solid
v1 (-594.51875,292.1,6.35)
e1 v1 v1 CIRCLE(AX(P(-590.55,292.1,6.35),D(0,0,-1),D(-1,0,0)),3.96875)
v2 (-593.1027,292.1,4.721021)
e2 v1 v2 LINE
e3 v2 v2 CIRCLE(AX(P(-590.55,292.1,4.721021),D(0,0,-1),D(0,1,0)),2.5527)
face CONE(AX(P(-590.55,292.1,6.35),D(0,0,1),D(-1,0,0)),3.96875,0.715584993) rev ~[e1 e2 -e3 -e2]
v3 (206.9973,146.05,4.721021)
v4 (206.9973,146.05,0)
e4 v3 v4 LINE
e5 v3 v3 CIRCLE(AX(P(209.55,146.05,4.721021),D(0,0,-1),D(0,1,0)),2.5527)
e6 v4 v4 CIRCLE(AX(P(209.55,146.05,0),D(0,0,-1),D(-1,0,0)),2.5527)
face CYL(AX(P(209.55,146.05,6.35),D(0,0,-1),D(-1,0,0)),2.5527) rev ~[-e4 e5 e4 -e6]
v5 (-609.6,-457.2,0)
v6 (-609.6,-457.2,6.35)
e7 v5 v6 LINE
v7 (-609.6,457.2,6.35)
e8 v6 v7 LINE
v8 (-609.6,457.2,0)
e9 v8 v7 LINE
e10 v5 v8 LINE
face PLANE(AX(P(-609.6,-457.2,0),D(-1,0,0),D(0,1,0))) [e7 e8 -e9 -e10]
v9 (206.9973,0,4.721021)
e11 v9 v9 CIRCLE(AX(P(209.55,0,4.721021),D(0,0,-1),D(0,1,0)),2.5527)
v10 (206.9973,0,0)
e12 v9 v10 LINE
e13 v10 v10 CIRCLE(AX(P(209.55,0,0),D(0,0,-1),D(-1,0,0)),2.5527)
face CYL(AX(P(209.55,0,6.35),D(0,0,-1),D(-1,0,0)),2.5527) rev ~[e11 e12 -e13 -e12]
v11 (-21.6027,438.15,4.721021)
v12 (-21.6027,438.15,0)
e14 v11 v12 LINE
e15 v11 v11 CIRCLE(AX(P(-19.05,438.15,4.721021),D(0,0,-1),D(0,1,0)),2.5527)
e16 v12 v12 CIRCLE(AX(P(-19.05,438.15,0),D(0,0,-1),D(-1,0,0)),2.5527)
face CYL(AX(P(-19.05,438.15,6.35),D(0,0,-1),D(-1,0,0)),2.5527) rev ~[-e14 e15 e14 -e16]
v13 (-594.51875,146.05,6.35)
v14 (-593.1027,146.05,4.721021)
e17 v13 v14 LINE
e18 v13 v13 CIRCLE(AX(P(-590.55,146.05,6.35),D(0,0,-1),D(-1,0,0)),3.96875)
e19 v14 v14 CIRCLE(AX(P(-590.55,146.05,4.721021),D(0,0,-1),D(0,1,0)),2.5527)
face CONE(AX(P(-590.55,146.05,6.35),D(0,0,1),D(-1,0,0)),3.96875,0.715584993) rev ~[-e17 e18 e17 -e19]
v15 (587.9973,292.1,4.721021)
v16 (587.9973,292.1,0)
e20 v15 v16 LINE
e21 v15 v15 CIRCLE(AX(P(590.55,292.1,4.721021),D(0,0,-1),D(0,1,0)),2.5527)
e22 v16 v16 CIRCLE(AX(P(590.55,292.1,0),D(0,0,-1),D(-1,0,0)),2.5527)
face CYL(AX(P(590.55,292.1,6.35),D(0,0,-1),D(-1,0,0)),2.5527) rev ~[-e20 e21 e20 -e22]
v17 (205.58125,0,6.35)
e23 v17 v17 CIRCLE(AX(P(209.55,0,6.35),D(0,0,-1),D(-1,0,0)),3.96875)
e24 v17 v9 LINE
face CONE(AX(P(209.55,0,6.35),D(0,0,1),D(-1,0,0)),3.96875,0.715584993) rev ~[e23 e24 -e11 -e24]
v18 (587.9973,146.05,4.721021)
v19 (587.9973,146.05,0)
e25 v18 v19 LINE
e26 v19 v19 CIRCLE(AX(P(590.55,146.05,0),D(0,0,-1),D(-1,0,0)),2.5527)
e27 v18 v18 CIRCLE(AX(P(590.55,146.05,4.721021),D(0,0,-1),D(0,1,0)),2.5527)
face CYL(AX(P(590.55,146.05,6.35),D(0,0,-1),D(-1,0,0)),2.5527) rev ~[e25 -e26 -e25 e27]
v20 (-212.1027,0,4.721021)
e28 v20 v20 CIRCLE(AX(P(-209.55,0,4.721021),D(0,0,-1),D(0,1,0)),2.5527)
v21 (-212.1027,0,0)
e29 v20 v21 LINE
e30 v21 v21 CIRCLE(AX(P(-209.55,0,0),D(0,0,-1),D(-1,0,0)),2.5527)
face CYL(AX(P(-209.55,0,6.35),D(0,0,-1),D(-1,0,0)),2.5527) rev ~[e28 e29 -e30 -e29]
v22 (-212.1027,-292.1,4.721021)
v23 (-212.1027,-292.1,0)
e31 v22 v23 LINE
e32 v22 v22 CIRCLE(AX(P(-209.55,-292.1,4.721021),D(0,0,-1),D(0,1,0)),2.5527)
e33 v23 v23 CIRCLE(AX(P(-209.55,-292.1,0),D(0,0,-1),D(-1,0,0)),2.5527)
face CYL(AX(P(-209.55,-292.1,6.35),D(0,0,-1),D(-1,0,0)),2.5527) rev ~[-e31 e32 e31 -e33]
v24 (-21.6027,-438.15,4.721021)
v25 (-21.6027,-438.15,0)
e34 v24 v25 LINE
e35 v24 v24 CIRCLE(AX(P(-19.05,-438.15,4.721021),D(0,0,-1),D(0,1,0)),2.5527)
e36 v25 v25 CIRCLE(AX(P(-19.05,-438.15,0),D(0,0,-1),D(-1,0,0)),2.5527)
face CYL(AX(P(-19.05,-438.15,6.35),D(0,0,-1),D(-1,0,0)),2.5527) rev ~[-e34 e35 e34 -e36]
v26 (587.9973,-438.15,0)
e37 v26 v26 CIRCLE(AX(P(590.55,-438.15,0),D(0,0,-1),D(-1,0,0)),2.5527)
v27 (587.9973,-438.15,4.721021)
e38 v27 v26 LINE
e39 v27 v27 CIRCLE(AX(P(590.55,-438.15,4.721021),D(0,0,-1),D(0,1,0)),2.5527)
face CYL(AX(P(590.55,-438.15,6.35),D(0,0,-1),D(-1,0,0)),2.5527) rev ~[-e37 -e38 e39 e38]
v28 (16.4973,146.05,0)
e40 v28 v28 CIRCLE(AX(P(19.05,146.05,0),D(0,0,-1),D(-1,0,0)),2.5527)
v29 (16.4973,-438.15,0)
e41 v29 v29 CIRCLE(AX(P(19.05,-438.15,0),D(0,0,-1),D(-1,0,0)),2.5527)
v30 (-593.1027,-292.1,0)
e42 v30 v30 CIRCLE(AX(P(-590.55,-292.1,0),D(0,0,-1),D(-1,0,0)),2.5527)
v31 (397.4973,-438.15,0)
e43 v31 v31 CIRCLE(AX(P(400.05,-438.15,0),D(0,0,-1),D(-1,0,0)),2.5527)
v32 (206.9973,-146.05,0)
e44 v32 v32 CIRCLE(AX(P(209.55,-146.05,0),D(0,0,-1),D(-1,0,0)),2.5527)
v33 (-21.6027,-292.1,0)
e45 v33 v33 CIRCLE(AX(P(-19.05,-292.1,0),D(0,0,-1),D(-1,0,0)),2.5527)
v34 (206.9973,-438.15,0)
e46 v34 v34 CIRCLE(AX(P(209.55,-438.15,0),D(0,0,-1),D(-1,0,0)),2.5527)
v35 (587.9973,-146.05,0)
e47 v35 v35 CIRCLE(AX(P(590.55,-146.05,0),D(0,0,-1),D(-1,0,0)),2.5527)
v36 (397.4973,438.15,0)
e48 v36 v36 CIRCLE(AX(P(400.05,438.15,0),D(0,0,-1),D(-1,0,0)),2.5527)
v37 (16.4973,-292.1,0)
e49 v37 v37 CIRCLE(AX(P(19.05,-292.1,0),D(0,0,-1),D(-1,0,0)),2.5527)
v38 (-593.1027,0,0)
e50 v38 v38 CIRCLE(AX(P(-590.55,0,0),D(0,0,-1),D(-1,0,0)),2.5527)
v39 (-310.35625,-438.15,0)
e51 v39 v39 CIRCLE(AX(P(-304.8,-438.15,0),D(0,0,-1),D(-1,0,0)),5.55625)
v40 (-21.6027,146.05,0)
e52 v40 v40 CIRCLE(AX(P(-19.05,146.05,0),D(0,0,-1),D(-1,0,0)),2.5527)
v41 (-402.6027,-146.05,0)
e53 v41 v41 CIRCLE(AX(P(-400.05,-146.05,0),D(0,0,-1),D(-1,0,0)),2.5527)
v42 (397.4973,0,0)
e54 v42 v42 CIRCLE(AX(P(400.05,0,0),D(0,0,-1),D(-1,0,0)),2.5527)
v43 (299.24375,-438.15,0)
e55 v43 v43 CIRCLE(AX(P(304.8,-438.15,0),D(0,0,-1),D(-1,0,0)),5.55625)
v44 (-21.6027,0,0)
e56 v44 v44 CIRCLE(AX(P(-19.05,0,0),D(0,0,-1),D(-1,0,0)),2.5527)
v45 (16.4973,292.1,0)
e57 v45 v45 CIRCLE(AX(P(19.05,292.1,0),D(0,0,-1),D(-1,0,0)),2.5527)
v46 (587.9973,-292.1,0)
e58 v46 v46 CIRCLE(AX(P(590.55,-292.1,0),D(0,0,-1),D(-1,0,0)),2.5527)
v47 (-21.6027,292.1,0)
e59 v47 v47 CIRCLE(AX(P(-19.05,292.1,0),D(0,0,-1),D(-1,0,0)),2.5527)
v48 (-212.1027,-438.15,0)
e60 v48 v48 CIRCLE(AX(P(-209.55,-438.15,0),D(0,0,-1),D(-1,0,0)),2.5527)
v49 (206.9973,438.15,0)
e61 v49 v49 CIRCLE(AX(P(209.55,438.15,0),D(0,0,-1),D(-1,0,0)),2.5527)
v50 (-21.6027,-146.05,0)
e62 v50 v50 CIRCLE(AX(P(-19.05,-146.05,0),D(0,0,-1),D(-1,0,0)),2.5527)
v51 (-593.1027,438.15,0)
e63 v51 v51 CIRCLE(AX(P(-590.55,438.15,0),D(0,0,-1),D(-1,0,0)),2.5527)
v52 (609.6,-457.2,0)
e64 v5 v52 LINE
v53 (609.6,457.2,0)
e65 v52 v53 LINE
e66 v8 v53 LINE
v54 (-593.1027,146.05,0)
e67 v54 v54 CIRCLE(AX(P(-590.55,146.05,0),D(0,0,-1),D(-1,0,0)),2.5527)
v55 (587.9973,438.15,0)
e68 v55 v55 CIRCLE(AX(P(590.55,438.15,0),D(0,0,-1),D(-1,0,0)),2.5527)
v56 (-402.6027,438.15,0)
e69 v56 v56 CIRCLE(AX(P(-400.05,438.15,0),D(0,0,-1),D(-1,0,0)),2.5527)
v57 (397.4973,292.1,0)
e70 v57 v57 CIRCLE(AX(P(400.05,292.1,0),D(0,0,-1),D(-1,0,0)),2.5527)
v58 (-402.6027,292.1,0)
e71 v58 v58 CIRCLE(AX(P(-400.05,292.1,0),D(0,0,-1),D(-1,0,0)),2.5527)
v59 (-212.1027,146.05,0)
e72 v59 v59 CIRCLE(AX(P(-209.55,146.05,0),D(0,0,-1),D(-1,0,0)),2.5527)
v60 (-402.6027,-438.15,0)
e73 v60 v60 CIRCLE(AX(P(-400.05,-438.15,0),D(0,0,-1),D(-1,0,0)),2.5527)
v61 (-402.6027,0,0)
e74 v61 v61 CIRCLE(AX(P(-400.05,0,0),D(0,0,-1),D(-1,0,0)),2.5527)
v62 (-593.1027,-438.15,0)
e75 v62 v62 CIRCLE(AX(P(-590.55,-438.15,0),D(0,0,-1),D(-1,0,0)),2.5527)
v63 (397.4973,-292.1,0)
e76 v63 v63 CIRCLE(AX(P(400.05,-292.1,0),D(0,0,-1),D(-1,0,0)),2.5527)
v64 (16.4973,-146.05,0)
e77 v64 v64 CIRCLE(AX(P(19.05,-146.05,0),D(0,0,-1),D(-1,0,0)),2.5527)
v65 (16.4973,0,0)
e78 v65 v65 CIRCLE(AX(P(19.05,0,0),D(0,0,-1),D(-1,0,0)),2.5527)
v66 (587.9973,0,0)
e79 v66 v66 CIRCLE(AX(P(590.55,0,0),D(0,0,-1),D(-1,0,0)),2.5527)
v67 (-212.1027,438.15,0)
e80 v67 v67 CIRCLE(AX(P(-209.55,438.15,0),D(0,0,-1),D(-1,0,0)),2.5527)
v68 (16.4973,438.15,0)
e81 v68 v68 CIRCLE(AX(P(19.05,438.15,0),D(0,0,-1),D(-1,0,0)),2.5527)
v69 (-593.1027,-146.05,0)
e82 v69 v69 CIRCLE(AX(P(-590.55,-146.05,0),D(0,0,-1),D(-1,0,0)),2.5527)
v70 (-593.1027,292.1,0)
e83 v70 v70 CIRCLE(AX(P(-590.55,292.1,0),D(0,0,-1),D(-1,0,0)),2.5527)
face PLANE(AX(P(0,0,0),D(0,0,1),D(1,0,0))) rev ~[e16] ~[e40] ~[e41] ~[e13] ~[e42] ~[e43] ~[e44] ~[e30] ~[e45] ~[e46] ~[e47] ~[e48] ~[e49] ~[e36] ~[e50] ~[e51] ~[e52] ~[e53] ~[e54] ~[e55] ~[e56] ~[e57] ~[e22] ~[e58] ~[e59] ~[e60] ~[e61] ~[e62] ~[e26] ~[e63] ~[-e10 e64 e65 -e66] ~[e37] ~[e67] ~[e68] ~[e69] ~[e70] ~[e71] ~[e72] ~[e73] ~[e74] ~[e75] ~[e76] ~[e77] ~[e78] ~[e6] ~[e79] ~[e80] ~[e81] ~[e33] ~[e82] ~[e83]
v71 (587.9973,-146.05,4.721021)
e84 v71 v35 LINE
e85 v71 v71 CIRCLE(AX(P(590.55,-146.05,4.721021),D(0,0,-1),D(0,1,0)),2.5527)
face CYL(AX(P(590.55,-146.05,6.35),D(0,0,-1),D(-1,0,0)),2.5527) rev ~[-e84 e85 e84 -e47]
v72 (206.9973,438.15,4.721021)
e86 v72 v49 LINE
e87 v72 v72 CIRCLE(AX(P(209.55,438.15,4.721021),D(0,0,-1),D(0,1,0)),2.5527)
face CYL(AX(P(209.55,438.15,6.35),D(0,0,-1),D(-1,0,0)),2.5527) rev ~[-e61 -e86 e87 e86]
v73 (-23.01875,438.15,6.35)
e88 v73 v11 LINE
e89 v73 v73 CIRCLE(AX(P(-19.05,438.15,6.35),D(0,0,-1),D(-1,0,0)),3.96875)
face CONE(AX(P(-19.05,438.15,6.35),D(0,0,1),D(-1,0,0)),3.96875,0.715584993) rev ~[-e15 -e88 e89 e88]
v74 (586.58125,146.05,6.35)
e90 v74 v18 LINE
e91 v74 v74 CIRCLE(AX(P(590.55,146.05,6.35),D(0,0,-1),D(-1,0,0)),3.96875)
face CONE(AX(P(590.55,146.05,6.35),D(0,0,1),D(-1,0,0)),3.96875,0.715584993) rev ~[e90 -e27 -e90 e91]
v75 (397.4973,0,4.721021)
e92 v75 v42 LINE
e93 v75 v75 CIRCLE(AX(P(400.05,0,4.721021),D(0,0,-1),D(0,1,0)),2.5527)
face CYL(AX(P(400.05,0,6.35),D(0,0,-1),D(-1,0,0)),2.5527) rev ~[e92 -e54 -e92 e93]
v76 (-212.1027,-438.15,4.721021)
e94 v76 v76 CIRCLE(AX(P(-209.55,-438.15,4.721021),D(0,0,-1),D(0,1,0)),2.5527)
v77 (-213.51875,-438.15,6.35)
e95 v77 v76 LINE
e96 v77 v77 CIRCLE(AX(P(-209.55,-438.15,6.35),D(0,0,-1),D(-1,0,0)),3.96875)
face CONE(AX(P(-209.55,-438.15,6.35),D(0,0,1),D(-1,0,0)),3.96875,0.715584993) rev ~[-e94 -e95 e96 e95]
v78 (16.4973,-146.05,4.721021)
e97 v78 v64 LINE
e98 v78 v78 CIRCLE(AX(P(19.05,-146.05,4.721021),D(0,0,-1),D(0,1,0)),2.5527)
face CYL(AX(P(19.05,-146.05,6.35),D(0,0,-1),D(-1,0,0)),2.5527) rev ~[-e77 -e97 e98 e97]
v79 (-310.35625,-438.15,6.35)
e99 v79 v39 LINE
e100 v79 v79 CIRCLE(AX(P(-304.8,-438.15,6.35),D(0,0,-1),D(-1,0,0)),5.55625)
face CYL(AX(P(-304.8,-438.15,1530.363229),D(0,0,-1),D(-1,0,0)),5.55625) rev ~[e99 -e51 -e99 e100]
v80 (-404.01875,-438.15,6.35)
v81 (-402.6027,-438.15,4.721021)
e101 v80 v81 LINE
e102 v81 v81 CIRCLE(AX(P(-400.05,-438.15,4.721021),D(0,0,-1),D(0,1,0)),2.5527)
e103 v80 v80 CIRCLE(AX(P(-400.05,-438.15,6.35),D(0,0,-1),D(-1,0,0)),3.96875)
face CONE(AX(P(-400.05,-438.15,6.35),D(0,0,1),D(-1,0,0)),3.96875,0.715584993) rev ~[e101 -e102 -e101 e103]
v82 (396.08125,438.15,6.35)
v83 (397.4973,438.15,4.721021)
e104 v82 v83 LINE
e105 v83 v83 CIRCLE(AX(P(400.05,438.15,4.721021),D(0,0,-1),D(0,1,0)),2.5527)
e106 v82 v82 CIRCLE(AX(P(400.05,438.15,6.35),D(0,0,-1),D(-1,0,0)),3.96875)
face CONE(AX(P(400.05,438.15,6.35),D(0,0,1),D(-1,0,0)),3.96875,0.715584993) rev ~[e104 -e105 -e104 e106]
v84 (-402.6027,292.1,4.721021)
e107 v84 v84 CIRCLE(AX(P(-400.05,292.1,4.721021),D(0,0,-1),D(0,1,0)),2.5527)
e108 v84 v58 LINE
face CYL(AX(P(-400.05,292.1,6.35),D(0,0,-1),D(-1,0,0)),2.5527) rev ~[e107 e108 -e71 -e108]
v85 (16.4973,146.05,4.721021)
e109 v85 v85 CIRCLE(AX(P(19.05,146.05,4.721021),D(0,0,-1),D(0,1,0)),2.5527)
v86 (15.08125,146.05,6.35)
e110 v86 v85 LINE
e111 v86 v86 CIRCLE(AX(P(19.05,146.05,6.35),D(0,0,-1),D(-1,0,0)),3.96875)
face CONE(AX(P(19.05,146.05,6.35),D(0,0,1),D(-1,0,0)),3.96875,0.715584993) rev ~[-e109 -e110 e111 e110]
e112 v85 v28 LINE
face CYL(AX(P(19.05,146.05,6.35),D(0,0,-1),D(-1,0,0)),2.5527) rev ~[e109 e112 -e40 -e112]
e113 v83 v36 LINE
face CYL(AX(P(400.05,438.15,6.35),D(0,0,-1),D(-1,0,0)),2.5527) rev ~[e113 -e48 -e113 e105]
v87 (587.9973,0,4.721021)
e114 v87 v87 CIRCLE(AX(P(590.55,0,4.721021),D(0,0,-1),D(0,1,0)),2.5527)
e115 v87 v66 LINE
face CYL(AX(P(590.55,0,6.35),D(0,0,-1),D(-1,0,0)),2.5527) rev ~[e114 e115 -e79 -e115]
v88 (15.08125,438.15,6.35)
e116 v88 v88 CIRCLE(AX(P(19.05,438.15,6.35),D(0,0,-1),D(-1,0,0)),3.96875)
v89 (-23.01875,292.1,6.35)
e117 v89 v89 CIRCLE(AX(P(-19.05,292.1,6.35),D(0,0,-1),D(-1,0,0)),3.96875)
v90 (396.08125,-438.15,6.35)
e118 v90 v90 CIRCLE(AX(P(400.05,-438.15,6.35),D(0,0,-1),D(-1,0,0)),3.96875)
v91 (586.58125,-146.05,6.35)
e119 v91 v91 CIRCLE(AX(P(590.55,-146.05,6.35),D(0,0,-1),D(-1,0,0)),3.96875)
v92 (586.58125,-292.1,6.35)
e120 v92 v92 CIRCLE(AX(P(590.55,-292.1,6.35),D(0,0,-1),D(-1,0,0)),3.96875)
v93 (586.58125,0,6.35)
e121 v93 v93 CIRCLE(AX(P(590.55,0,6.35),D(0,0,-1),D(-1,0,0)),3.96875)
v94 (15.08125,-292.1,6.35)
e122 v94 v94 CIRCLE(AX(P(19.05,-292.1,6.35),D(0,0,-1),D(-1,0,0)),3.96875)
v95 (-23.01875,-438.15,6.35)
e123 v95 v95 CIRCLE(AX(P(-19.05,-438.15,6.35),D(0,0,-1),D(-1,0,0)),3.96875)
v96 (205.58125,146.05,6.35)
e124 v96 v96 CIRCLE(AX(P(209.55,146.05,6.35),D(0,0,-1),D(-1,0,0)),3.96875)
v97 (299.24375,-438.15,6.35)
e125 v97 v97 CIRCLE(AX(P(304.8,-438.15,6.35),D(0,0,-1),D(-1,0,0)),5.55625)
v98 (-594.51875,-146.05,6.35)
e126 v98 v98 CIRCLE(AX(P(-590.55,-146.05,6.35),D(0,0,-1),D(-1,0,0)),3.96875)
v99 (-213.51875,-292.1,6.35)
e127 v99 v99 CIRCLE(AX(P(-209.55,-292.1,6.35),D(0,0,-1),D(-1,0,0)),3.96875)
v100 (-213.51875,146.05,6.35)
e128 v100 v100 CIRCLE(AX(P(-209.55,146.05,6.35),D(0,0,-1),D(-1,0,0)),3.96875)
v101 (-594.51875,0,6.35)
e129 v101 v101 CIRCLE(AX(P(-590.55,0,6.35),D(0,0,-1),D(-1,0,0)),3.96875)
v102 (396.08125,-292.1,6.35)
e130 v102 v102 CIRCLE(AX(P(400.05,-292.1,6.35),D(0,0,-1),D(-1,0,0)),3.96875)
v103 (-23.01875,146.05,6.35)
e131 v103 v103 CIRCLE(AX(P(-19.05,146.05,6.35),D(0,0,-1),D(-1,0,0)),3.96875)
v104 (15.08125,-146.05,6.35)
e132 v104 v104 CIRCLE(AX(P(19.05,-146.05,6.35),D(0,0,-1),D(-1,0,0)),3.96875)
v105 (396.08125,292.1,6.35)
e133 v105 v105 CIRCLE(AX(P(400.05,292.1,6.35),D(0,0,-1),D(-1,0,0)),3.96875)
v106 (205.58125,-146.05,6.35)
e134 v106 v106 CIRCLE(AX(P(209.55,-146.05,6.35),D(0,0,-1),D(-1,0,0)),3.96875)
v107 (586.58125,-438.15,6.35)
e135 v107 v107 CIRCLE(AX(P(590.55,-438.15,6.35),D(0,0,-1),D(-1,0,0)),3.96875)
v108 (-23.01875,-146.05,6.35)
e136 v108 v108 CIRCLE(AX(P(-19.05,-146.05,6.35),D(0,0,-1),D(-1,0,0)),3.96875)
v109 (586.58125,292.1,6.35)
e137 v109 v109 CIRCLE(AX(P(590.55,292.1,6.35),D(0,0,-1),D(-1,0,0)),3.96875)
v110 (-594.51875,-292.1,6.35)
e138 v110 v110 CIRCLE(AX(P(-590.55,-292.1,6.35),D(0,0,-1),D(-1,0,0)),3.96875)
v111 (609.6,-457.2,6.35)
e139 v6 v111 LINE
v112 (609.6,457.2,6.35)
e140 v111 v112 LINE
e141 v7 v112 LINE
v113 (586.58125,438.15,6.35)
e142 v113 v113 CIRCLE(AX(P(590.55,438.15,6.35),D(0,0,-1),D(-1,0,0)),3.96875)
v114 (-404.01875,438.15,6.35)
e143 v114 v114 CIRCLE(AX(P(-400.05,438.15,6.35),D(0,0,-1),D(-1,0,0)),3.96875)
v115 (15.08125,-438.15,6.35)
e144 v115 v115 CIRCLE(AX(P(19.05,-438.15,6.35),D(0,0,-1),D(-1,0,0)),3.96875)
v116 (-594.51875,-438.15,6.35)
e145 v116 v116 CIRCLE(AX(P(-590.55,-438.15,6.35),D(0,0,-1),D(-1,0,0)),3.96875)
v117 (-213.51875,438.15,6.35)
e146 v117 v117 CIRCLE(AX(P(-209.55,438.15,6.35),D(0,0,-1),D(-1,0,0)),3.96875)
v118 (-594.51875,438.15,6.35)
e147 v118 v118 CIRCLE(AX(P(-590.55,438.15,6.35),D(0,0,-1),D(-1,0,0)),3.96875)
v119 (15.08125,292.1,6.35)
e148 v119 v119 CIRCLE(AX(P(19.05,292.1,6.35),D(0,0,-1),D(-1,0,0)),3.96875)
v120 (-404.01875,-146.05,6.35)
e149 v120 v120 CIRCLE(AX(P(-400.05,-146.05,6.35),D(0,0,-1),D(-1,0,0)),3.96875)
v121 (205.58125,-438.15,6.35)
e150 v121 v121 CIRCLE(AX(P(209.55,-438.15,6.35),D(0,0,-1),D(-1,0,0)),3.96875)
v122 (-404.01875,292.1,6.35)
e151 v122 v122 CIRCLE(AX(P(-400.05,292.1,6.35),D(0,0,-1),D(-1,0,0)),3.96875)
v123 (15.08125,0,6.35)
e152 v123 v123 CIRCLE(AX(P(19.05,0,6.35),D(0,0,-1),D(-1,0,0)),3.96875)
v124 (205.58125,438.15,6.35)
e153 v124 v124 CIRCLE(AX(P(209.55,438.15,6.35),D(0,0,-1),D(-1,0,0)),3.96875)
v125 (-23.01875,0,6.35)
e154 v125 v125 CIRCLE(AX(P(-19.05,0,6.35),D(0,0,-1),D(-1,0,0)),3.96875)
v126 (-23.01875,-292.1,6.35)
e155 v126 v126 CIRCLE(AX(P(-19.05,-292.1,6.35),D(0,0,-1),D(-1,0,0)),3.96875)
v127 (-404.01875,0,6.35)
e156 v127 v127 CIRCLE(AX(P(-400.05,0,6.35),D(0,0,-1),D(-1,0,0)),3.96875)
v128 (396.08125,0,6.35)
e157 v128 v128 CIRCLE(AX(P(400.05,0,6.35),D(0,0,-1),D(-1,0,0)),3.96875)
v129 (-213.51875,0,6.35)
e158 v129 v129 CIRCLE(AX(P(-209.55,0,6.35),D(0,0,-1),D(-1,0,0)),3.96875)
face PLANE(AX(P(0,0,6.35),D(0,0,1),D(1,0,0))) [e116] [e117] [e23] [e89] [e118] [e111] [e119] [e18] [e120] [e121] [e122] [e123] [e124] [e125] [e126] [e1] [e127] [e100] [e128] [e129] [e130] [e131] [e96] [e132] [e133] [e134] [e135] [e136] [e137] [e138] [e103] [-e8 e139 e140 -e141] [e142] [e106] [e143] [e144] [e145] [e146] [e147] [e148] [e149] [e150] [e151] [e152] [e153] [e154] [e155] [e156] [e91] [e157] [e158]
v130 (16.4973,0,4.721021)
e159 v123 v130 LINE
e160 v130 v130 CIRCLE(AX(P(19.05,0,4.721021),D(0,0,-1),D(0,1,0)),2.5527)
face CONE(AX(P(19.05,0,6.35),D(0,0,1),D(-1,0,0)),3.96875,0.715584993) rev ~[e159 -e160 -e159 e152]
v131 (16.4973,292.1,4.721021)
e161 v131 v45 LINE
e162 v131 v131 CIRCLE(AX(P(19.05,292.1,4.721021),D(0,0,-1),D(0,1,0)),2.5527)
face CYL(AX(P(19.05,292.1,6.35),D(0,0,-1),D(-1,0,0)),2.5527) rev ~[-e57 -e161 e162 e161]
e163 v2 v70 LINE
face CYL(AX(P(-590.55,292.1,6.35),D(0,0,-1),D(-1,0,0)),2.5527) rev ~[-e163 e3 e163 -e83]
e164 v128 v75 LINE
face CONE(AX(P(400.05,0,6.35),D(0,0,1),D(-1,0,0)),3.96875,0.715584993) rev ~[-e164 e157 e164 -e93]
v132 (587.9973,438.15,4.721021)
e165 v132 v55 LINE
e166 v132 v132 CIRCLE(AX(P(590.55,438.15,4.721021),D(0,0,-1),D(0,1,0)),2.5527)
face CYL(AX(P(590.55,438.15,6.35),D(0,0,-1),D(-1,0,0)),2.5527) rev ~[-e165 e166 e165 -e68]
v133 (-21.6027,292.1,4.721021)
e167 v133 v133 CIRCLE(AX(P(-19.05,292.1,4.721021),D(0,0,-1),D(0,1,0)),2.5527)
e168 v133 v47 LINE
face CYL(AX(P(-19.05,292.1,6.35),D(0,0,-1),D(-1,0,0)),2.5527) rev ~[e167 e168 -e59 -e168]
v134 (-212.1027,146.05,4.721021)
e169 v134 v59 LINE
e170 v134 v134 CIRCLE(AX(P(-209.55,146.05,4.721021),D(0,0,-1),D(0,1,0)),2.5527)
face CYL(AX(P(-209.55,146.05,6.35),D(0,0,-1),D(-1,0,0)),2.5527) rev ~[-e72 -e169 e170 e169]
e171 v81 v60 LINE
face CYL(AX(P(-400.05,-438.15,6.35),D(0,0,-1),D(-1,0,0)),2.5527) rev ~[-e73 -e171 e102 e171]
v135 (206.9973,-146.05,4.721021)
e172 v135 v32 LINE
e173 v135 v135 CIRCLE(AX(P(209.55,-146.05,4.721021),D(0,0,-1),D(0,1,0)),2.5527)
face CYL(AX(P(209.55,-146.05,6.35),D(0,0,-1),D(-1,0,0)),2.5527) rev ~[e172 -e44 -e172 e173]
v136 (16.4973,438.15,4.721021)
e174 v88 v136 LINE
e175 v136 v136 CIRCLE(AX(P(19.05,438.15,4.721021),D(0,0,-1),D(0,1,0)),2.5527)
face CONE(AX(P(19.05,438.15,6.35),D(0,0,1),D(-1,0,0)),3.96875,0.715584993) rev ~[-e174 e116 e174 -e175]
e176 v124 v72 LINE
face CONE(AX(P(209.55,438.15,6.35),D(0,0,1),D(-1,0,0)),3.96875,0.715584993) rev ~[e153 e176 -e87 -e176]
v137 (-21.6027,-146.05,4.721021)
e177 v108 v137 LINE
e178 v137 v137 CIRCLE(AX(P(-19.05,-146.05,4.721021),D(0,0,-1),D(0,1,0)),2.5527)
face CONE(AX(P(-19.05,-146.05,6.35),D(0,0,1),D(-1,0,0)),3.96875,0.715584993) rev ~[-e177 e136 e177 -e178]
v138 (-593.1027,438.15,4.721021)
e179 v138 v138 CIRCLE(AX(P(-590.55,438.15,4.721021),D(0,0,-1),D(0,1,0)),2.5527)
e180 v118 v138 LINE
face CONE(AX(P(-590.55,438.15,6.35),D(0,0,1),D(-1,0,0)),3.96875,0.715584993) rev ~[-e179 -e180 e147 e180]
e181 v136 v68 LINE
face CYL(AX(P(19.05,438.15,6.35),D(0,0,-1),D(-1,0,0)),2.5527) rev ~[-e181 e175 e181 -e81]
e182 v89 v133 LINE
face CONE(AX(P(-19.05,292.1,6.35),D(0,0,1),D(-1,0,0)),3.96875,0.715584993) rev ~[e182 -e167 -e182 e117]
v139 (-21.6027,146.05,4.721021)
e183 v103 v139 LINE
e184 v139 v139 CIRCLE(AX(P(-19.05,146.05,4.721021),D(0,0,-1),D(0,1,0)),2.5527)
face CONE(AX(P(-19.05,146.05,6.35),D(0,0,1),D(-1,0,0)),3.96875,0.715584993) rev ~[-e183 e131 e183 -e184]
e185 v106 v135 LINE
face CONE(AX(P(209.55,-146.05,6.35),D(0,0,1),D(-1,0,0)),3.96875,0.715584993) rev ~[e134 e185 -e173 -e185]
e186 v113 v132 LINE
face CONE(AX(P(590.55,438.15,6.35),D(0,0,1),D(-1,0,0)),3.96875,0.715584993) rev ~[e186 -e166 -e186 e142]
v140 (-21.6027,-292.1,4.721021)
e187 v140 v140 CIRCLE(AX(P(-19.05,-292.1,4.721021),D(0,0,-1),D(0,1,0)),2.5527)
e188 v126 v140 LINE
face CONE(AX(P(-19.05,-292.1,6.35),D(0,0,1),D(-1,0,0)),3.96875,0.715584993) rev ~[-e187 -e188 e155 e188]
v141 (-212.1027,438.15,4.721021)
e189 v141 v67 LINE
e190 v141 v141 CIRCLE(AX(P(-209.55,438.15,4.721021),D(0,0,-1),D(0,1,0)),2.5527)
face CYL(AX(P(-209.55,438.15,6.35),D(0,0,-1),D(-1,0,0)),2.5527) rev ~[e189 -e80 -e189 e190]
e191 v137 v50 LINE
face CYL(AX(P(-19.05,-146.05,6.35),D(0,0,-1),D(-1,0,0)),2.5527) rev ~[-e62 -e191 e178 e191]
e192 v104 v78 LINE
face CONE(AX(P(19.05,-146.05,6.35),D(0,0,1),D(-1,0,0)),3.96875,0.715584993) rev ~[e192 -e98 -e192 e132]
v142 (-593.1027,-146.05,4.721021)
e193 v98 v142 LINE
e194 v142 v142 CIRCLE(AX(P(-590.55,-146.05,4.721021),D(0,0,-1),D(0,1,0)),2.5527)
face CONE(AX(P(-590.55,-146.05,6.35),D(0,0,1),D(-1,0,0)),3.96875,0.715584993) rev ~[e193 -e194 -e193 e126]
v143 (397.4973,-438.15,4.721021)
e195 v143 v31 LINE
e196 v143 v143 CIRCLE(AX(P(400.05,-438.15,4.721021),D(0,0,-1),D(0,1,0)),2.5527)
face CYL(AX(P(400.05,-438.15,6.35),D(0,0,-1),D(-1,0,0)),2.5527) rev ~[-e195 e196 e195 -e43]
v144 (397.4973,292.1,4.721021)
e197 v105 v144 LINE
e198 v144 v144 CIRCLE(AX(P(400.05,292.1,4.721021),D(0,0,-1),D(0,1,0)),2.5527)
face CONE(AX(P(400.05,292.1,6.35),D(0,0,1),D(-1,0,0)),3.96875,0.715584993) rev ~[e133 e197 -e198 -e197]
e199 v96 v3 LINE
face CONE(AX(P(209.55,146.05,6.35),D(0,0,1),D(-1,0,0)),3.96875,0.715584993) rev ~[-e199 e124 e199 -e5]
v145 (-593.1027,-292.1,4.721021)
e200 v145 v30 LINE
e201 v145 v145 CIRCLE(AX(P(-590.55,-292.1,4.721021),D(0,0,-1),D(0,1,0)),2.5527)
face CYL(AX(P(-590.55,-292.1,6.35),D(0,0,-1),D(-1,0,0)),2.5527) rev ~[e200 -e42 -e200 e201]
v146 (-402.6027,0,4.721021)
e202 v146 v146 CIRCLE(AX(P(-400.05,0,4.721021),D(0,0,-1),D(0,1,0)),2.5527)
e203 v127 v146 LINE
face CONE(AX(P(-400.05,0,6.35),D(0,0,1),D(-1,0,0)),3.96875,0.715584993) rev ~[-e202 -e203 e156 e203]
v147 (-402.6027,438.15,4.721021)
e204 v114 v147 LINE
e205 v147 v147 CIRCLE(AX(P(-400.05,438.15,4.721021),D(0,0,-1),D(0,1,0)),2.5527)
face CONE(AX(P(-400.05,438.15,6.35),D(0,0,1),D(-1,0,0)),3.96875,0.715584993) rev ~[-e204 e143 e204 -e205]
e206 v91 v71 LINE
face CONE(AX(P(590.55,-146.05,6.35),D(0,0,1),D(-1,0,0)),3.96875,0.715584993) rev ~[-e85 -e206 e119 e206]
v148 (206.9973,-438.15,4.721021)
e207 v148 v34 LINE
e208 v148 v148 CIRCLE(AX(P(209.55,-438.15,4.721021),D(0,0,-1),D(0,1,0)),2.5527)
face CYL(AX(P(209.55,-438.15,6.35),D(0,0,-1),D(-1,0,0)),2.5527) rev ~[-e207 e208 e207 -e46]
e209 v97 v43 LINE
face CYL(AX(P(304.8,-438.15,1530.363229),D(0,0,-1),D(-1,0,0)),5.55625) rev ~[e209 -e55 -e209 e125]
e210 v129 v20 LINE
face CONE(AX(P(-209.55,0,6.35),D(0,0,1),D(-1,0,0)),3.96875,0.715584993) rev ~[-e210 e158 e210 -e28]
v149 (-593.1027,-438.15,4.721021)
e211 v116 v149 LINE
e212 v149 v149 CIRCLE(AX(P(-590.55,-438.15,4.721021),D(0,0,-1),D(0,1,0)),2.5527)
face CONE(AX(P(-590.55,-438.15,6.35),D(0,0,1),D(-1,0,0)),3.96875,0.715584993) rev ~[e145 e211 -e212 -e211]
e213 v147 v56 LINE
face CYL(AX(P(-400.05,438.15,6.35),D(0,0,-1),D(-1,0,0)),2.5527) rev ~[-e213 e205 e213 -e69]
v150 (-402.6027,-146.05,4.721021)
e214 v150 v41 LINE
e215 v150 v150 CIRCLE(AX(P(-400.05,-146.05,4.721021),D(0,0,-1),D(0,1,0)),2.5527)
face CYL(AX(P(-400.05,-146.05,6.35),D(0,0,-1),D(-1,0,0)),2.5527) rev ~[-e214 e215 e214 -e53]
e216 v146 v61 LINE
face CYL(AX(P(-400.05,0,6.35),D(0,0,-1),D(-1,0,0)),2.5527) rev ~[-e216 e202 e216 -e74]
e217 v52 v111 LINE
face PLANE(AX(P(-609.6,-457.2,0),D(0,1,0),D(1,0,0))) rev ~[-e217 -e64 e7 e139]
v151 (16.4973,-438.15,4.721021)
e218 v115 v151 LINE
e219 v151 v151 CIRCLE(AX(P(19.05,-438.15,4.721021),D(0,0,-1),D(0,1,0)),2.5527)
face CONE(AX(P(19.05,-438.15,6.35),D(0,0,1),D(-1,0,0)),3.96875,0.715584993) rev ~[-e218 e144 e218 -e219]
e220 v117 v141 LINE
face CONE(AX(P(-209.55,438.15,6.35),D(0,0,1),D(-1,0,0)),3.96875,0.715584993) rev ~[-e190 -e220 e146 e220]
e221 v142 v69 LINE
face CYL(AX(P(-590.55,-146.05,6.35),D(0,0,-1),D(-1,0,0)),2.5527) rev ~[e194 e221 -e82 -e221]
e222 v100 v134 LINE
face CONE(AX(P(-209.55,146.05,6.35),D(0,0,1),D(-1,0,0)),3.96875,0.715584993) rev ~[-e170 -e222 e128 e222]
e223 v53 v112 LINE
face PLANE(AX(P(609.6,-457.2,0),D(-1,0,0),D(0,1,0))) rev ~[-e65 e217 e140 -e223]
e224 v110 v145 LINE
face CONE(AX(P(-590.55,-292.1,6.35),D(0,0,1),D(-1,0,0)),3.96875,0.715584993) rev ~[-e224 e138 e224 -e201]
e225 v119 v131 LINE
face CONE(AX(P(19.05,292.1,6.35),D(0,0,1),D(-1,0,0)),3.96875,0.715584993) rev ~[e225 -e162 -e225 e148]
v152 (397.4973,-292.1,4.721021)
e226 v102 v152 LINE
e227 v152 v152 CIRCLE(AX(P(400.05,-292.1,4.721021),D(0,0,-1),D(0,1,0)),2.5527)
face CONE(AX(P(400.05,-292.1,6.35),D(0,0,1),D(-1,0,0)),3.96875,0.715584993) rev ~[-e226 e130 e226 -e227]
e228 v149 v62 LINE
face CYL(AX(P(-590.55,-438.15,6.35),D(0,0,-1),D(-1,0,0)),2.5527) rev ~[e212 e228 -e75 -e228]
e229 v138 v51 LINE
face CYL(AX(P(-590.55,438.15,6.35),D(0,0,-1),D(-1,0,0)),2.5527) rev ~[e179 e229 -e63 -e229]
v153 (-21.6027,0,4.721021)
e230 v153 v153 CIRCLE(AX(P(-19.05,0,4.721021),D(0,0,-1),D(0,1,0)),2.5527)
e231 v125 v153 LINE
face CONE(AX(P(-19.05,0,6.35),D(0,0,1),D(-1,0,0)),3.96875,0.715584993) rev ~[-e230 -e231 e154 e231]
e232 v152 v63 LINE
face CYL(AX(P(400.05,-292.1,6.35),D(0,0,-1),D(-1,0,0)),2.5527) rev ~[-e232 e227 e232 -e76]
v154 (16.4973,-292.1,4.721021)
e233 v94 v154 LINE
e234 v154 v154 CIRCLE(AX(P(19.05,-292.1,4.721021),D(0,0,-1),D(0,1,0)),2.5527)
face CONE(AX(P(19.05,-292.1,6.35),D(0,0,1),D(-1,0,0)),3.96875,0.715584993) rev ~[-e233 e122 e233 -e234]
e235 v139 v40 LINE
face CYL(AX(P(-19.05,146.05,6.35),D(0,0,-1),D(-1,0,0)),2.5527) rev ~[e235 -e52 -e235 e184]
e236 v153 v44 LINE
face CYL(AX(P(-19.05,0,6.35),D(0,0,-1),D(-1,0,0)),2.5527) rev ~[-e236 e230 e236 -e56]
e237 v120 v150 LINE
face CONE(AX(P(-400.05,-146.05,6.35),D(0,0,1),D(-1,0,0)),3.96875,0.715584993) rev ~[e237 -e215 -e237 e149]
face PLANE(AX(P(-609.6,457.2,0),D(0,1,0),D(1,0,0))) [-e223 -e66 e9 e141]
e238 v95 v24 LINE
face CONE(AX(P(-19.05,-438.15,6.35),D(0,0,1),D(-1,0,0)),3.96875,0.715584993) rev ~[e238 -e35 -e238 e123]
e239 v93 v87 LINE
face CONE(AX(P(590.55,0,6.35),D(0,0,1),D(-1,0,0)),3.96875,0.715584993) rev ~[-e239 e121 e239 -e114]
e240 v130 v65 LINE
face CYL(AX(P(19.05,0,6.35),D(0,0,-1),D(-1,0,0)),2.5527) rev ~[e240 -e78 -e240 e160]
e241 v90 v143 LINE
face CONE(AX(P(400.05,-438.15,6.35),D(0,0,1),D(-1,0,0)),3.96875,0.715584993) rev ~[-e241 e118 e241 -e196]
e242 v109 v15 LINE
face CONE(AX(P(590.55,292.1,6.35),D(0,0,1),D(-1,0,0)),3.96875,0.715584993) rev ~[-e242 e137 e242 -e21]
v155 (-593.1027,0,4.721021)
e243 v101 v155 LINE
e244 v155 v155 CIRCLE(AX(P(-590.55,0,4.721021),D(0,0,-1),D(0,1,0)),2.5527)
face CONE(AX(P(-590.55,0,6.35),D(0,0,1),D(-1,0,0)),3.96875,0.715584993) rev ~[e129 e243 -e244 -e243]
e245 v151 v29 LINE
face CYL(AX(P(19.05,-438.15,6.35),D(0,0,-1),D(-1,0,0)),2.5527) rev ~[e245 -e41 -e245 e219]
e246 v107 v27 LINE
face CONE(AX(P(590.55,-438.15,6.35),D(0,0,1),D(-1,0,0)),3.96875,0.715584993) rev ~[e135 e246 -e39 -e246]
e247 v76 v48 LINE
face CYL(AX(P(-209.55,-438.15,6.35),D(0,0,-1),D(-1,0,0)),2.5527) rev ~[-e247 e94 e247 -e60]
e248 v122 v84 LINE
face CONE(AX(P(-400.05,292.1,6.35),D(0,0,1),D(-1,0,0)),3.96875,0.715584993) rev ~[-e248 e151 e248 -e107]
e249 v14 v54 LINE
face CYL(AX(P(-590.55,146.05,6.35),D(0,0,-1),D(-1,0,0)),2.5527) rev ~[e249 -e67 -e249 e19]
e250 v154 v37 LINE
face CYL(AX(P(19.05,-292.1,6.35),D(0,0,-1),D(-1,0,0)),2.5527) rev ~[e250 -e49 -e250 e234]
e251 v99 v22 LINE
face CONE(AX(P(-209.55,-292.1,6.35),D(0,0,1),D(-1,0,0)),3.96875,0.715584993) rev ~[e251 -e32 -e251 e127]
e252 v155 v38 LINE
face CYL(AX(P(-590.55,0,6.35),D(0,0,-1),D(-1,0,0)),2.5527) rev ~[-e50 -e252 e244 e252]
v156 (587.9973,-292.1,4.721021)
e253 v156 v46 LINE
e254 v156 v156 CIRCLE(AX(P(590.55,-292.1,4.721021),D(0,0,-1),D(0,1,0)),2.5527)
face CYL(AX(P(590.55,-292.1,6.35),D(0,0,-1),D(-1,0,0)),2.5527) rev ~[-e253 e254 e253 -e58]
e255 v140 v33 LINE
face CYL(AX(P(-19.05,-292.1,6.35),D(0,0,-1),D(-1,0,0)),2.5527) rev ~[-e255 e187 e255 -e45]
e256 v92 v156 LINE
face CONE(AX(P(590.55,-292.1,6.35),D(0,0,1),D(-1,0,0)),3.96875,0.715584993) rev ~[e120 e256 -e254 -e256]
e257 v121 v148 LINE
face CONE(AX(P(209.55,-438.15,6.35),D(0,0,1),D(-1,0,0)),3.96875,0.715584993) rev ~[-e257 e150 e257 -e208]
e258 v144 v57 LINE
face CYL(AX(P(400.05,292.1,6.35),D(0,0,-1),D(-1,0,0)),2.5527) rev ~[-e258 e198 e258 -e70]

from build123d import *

# Parameters (mm, degrees)
F0_W           = 1219.2
F0_H           = 914.4
F1_DEPTH       = 6.35
F3_D           = 5.1054
F3_CSINK_D     = 7.9375
F3_CSINK_ANGLE = 82
F4_D           = 11.1125


with BuildPart() as f1:
    # F0 (on Top) → F1 (new body)
    with BuildSketch(Plane.XY):
        Rectangle(F0_W, F0_H)
    extrude(amount=F1_DEPTH)

    # F3 (through all)
    with Locations(Plane.XY.offset(6.35)):
        with Locations((-590.55, 438.15), (-400.05, 438.15), (-209.55, 438.15), (-19.05, 438.15), (19.05, 438.15), (209.55, 438.15), (400.05, 438.15), (590.55, 438.15), (590.55, 292.1), (590.55, 146.05), (590.55, 0), (590.55, -146.05), (590.55, -292.1), (590.55, -438.15), (400.05, -438.15), (209.55, -438.15), (19.05, -438.15), (-19.05, -438.15), (-209.55, -438.15), (-400.05, -438.15), (-590.55, -438.15), (-590.55, -292.1), (-590.55, -146.05), (-590.55, 0), (-590.55, 146.05), (-590.55, 292.1), (-19.05, -292.1), (19.05, -292.1), (-19.05, -146.05), (19.05, -146.05), (-19.05, 0), (19.05, 0), (-19.05, 146.05), (19.05, 146.05), (-19.05, 292.1), (19.05, 292.1), (-400.05, 292.1), (-400.05, 0), (-400.05, -146.05), (-209.55, -292.1), (-209.55, 0), (-209.55, 146.05), (209.55, 146.05), (209.55, 0), (209.55, -146.05), (400.05, -292.1), (400.05, 0), (400.05, 292.1)):
            CounterSinkHole(F3_D / 2, F3_CSINK_D / 2, counter_sink_angle=F3_CSINK_ANGLE)

    # F4 (through all)
    with Locations(Plane.XY.offset(6.35)):
        with Locations((304.8, -438.15), (-304.8, -438.15)):
            Hole(F4_D / 2)


solid = f1.part
